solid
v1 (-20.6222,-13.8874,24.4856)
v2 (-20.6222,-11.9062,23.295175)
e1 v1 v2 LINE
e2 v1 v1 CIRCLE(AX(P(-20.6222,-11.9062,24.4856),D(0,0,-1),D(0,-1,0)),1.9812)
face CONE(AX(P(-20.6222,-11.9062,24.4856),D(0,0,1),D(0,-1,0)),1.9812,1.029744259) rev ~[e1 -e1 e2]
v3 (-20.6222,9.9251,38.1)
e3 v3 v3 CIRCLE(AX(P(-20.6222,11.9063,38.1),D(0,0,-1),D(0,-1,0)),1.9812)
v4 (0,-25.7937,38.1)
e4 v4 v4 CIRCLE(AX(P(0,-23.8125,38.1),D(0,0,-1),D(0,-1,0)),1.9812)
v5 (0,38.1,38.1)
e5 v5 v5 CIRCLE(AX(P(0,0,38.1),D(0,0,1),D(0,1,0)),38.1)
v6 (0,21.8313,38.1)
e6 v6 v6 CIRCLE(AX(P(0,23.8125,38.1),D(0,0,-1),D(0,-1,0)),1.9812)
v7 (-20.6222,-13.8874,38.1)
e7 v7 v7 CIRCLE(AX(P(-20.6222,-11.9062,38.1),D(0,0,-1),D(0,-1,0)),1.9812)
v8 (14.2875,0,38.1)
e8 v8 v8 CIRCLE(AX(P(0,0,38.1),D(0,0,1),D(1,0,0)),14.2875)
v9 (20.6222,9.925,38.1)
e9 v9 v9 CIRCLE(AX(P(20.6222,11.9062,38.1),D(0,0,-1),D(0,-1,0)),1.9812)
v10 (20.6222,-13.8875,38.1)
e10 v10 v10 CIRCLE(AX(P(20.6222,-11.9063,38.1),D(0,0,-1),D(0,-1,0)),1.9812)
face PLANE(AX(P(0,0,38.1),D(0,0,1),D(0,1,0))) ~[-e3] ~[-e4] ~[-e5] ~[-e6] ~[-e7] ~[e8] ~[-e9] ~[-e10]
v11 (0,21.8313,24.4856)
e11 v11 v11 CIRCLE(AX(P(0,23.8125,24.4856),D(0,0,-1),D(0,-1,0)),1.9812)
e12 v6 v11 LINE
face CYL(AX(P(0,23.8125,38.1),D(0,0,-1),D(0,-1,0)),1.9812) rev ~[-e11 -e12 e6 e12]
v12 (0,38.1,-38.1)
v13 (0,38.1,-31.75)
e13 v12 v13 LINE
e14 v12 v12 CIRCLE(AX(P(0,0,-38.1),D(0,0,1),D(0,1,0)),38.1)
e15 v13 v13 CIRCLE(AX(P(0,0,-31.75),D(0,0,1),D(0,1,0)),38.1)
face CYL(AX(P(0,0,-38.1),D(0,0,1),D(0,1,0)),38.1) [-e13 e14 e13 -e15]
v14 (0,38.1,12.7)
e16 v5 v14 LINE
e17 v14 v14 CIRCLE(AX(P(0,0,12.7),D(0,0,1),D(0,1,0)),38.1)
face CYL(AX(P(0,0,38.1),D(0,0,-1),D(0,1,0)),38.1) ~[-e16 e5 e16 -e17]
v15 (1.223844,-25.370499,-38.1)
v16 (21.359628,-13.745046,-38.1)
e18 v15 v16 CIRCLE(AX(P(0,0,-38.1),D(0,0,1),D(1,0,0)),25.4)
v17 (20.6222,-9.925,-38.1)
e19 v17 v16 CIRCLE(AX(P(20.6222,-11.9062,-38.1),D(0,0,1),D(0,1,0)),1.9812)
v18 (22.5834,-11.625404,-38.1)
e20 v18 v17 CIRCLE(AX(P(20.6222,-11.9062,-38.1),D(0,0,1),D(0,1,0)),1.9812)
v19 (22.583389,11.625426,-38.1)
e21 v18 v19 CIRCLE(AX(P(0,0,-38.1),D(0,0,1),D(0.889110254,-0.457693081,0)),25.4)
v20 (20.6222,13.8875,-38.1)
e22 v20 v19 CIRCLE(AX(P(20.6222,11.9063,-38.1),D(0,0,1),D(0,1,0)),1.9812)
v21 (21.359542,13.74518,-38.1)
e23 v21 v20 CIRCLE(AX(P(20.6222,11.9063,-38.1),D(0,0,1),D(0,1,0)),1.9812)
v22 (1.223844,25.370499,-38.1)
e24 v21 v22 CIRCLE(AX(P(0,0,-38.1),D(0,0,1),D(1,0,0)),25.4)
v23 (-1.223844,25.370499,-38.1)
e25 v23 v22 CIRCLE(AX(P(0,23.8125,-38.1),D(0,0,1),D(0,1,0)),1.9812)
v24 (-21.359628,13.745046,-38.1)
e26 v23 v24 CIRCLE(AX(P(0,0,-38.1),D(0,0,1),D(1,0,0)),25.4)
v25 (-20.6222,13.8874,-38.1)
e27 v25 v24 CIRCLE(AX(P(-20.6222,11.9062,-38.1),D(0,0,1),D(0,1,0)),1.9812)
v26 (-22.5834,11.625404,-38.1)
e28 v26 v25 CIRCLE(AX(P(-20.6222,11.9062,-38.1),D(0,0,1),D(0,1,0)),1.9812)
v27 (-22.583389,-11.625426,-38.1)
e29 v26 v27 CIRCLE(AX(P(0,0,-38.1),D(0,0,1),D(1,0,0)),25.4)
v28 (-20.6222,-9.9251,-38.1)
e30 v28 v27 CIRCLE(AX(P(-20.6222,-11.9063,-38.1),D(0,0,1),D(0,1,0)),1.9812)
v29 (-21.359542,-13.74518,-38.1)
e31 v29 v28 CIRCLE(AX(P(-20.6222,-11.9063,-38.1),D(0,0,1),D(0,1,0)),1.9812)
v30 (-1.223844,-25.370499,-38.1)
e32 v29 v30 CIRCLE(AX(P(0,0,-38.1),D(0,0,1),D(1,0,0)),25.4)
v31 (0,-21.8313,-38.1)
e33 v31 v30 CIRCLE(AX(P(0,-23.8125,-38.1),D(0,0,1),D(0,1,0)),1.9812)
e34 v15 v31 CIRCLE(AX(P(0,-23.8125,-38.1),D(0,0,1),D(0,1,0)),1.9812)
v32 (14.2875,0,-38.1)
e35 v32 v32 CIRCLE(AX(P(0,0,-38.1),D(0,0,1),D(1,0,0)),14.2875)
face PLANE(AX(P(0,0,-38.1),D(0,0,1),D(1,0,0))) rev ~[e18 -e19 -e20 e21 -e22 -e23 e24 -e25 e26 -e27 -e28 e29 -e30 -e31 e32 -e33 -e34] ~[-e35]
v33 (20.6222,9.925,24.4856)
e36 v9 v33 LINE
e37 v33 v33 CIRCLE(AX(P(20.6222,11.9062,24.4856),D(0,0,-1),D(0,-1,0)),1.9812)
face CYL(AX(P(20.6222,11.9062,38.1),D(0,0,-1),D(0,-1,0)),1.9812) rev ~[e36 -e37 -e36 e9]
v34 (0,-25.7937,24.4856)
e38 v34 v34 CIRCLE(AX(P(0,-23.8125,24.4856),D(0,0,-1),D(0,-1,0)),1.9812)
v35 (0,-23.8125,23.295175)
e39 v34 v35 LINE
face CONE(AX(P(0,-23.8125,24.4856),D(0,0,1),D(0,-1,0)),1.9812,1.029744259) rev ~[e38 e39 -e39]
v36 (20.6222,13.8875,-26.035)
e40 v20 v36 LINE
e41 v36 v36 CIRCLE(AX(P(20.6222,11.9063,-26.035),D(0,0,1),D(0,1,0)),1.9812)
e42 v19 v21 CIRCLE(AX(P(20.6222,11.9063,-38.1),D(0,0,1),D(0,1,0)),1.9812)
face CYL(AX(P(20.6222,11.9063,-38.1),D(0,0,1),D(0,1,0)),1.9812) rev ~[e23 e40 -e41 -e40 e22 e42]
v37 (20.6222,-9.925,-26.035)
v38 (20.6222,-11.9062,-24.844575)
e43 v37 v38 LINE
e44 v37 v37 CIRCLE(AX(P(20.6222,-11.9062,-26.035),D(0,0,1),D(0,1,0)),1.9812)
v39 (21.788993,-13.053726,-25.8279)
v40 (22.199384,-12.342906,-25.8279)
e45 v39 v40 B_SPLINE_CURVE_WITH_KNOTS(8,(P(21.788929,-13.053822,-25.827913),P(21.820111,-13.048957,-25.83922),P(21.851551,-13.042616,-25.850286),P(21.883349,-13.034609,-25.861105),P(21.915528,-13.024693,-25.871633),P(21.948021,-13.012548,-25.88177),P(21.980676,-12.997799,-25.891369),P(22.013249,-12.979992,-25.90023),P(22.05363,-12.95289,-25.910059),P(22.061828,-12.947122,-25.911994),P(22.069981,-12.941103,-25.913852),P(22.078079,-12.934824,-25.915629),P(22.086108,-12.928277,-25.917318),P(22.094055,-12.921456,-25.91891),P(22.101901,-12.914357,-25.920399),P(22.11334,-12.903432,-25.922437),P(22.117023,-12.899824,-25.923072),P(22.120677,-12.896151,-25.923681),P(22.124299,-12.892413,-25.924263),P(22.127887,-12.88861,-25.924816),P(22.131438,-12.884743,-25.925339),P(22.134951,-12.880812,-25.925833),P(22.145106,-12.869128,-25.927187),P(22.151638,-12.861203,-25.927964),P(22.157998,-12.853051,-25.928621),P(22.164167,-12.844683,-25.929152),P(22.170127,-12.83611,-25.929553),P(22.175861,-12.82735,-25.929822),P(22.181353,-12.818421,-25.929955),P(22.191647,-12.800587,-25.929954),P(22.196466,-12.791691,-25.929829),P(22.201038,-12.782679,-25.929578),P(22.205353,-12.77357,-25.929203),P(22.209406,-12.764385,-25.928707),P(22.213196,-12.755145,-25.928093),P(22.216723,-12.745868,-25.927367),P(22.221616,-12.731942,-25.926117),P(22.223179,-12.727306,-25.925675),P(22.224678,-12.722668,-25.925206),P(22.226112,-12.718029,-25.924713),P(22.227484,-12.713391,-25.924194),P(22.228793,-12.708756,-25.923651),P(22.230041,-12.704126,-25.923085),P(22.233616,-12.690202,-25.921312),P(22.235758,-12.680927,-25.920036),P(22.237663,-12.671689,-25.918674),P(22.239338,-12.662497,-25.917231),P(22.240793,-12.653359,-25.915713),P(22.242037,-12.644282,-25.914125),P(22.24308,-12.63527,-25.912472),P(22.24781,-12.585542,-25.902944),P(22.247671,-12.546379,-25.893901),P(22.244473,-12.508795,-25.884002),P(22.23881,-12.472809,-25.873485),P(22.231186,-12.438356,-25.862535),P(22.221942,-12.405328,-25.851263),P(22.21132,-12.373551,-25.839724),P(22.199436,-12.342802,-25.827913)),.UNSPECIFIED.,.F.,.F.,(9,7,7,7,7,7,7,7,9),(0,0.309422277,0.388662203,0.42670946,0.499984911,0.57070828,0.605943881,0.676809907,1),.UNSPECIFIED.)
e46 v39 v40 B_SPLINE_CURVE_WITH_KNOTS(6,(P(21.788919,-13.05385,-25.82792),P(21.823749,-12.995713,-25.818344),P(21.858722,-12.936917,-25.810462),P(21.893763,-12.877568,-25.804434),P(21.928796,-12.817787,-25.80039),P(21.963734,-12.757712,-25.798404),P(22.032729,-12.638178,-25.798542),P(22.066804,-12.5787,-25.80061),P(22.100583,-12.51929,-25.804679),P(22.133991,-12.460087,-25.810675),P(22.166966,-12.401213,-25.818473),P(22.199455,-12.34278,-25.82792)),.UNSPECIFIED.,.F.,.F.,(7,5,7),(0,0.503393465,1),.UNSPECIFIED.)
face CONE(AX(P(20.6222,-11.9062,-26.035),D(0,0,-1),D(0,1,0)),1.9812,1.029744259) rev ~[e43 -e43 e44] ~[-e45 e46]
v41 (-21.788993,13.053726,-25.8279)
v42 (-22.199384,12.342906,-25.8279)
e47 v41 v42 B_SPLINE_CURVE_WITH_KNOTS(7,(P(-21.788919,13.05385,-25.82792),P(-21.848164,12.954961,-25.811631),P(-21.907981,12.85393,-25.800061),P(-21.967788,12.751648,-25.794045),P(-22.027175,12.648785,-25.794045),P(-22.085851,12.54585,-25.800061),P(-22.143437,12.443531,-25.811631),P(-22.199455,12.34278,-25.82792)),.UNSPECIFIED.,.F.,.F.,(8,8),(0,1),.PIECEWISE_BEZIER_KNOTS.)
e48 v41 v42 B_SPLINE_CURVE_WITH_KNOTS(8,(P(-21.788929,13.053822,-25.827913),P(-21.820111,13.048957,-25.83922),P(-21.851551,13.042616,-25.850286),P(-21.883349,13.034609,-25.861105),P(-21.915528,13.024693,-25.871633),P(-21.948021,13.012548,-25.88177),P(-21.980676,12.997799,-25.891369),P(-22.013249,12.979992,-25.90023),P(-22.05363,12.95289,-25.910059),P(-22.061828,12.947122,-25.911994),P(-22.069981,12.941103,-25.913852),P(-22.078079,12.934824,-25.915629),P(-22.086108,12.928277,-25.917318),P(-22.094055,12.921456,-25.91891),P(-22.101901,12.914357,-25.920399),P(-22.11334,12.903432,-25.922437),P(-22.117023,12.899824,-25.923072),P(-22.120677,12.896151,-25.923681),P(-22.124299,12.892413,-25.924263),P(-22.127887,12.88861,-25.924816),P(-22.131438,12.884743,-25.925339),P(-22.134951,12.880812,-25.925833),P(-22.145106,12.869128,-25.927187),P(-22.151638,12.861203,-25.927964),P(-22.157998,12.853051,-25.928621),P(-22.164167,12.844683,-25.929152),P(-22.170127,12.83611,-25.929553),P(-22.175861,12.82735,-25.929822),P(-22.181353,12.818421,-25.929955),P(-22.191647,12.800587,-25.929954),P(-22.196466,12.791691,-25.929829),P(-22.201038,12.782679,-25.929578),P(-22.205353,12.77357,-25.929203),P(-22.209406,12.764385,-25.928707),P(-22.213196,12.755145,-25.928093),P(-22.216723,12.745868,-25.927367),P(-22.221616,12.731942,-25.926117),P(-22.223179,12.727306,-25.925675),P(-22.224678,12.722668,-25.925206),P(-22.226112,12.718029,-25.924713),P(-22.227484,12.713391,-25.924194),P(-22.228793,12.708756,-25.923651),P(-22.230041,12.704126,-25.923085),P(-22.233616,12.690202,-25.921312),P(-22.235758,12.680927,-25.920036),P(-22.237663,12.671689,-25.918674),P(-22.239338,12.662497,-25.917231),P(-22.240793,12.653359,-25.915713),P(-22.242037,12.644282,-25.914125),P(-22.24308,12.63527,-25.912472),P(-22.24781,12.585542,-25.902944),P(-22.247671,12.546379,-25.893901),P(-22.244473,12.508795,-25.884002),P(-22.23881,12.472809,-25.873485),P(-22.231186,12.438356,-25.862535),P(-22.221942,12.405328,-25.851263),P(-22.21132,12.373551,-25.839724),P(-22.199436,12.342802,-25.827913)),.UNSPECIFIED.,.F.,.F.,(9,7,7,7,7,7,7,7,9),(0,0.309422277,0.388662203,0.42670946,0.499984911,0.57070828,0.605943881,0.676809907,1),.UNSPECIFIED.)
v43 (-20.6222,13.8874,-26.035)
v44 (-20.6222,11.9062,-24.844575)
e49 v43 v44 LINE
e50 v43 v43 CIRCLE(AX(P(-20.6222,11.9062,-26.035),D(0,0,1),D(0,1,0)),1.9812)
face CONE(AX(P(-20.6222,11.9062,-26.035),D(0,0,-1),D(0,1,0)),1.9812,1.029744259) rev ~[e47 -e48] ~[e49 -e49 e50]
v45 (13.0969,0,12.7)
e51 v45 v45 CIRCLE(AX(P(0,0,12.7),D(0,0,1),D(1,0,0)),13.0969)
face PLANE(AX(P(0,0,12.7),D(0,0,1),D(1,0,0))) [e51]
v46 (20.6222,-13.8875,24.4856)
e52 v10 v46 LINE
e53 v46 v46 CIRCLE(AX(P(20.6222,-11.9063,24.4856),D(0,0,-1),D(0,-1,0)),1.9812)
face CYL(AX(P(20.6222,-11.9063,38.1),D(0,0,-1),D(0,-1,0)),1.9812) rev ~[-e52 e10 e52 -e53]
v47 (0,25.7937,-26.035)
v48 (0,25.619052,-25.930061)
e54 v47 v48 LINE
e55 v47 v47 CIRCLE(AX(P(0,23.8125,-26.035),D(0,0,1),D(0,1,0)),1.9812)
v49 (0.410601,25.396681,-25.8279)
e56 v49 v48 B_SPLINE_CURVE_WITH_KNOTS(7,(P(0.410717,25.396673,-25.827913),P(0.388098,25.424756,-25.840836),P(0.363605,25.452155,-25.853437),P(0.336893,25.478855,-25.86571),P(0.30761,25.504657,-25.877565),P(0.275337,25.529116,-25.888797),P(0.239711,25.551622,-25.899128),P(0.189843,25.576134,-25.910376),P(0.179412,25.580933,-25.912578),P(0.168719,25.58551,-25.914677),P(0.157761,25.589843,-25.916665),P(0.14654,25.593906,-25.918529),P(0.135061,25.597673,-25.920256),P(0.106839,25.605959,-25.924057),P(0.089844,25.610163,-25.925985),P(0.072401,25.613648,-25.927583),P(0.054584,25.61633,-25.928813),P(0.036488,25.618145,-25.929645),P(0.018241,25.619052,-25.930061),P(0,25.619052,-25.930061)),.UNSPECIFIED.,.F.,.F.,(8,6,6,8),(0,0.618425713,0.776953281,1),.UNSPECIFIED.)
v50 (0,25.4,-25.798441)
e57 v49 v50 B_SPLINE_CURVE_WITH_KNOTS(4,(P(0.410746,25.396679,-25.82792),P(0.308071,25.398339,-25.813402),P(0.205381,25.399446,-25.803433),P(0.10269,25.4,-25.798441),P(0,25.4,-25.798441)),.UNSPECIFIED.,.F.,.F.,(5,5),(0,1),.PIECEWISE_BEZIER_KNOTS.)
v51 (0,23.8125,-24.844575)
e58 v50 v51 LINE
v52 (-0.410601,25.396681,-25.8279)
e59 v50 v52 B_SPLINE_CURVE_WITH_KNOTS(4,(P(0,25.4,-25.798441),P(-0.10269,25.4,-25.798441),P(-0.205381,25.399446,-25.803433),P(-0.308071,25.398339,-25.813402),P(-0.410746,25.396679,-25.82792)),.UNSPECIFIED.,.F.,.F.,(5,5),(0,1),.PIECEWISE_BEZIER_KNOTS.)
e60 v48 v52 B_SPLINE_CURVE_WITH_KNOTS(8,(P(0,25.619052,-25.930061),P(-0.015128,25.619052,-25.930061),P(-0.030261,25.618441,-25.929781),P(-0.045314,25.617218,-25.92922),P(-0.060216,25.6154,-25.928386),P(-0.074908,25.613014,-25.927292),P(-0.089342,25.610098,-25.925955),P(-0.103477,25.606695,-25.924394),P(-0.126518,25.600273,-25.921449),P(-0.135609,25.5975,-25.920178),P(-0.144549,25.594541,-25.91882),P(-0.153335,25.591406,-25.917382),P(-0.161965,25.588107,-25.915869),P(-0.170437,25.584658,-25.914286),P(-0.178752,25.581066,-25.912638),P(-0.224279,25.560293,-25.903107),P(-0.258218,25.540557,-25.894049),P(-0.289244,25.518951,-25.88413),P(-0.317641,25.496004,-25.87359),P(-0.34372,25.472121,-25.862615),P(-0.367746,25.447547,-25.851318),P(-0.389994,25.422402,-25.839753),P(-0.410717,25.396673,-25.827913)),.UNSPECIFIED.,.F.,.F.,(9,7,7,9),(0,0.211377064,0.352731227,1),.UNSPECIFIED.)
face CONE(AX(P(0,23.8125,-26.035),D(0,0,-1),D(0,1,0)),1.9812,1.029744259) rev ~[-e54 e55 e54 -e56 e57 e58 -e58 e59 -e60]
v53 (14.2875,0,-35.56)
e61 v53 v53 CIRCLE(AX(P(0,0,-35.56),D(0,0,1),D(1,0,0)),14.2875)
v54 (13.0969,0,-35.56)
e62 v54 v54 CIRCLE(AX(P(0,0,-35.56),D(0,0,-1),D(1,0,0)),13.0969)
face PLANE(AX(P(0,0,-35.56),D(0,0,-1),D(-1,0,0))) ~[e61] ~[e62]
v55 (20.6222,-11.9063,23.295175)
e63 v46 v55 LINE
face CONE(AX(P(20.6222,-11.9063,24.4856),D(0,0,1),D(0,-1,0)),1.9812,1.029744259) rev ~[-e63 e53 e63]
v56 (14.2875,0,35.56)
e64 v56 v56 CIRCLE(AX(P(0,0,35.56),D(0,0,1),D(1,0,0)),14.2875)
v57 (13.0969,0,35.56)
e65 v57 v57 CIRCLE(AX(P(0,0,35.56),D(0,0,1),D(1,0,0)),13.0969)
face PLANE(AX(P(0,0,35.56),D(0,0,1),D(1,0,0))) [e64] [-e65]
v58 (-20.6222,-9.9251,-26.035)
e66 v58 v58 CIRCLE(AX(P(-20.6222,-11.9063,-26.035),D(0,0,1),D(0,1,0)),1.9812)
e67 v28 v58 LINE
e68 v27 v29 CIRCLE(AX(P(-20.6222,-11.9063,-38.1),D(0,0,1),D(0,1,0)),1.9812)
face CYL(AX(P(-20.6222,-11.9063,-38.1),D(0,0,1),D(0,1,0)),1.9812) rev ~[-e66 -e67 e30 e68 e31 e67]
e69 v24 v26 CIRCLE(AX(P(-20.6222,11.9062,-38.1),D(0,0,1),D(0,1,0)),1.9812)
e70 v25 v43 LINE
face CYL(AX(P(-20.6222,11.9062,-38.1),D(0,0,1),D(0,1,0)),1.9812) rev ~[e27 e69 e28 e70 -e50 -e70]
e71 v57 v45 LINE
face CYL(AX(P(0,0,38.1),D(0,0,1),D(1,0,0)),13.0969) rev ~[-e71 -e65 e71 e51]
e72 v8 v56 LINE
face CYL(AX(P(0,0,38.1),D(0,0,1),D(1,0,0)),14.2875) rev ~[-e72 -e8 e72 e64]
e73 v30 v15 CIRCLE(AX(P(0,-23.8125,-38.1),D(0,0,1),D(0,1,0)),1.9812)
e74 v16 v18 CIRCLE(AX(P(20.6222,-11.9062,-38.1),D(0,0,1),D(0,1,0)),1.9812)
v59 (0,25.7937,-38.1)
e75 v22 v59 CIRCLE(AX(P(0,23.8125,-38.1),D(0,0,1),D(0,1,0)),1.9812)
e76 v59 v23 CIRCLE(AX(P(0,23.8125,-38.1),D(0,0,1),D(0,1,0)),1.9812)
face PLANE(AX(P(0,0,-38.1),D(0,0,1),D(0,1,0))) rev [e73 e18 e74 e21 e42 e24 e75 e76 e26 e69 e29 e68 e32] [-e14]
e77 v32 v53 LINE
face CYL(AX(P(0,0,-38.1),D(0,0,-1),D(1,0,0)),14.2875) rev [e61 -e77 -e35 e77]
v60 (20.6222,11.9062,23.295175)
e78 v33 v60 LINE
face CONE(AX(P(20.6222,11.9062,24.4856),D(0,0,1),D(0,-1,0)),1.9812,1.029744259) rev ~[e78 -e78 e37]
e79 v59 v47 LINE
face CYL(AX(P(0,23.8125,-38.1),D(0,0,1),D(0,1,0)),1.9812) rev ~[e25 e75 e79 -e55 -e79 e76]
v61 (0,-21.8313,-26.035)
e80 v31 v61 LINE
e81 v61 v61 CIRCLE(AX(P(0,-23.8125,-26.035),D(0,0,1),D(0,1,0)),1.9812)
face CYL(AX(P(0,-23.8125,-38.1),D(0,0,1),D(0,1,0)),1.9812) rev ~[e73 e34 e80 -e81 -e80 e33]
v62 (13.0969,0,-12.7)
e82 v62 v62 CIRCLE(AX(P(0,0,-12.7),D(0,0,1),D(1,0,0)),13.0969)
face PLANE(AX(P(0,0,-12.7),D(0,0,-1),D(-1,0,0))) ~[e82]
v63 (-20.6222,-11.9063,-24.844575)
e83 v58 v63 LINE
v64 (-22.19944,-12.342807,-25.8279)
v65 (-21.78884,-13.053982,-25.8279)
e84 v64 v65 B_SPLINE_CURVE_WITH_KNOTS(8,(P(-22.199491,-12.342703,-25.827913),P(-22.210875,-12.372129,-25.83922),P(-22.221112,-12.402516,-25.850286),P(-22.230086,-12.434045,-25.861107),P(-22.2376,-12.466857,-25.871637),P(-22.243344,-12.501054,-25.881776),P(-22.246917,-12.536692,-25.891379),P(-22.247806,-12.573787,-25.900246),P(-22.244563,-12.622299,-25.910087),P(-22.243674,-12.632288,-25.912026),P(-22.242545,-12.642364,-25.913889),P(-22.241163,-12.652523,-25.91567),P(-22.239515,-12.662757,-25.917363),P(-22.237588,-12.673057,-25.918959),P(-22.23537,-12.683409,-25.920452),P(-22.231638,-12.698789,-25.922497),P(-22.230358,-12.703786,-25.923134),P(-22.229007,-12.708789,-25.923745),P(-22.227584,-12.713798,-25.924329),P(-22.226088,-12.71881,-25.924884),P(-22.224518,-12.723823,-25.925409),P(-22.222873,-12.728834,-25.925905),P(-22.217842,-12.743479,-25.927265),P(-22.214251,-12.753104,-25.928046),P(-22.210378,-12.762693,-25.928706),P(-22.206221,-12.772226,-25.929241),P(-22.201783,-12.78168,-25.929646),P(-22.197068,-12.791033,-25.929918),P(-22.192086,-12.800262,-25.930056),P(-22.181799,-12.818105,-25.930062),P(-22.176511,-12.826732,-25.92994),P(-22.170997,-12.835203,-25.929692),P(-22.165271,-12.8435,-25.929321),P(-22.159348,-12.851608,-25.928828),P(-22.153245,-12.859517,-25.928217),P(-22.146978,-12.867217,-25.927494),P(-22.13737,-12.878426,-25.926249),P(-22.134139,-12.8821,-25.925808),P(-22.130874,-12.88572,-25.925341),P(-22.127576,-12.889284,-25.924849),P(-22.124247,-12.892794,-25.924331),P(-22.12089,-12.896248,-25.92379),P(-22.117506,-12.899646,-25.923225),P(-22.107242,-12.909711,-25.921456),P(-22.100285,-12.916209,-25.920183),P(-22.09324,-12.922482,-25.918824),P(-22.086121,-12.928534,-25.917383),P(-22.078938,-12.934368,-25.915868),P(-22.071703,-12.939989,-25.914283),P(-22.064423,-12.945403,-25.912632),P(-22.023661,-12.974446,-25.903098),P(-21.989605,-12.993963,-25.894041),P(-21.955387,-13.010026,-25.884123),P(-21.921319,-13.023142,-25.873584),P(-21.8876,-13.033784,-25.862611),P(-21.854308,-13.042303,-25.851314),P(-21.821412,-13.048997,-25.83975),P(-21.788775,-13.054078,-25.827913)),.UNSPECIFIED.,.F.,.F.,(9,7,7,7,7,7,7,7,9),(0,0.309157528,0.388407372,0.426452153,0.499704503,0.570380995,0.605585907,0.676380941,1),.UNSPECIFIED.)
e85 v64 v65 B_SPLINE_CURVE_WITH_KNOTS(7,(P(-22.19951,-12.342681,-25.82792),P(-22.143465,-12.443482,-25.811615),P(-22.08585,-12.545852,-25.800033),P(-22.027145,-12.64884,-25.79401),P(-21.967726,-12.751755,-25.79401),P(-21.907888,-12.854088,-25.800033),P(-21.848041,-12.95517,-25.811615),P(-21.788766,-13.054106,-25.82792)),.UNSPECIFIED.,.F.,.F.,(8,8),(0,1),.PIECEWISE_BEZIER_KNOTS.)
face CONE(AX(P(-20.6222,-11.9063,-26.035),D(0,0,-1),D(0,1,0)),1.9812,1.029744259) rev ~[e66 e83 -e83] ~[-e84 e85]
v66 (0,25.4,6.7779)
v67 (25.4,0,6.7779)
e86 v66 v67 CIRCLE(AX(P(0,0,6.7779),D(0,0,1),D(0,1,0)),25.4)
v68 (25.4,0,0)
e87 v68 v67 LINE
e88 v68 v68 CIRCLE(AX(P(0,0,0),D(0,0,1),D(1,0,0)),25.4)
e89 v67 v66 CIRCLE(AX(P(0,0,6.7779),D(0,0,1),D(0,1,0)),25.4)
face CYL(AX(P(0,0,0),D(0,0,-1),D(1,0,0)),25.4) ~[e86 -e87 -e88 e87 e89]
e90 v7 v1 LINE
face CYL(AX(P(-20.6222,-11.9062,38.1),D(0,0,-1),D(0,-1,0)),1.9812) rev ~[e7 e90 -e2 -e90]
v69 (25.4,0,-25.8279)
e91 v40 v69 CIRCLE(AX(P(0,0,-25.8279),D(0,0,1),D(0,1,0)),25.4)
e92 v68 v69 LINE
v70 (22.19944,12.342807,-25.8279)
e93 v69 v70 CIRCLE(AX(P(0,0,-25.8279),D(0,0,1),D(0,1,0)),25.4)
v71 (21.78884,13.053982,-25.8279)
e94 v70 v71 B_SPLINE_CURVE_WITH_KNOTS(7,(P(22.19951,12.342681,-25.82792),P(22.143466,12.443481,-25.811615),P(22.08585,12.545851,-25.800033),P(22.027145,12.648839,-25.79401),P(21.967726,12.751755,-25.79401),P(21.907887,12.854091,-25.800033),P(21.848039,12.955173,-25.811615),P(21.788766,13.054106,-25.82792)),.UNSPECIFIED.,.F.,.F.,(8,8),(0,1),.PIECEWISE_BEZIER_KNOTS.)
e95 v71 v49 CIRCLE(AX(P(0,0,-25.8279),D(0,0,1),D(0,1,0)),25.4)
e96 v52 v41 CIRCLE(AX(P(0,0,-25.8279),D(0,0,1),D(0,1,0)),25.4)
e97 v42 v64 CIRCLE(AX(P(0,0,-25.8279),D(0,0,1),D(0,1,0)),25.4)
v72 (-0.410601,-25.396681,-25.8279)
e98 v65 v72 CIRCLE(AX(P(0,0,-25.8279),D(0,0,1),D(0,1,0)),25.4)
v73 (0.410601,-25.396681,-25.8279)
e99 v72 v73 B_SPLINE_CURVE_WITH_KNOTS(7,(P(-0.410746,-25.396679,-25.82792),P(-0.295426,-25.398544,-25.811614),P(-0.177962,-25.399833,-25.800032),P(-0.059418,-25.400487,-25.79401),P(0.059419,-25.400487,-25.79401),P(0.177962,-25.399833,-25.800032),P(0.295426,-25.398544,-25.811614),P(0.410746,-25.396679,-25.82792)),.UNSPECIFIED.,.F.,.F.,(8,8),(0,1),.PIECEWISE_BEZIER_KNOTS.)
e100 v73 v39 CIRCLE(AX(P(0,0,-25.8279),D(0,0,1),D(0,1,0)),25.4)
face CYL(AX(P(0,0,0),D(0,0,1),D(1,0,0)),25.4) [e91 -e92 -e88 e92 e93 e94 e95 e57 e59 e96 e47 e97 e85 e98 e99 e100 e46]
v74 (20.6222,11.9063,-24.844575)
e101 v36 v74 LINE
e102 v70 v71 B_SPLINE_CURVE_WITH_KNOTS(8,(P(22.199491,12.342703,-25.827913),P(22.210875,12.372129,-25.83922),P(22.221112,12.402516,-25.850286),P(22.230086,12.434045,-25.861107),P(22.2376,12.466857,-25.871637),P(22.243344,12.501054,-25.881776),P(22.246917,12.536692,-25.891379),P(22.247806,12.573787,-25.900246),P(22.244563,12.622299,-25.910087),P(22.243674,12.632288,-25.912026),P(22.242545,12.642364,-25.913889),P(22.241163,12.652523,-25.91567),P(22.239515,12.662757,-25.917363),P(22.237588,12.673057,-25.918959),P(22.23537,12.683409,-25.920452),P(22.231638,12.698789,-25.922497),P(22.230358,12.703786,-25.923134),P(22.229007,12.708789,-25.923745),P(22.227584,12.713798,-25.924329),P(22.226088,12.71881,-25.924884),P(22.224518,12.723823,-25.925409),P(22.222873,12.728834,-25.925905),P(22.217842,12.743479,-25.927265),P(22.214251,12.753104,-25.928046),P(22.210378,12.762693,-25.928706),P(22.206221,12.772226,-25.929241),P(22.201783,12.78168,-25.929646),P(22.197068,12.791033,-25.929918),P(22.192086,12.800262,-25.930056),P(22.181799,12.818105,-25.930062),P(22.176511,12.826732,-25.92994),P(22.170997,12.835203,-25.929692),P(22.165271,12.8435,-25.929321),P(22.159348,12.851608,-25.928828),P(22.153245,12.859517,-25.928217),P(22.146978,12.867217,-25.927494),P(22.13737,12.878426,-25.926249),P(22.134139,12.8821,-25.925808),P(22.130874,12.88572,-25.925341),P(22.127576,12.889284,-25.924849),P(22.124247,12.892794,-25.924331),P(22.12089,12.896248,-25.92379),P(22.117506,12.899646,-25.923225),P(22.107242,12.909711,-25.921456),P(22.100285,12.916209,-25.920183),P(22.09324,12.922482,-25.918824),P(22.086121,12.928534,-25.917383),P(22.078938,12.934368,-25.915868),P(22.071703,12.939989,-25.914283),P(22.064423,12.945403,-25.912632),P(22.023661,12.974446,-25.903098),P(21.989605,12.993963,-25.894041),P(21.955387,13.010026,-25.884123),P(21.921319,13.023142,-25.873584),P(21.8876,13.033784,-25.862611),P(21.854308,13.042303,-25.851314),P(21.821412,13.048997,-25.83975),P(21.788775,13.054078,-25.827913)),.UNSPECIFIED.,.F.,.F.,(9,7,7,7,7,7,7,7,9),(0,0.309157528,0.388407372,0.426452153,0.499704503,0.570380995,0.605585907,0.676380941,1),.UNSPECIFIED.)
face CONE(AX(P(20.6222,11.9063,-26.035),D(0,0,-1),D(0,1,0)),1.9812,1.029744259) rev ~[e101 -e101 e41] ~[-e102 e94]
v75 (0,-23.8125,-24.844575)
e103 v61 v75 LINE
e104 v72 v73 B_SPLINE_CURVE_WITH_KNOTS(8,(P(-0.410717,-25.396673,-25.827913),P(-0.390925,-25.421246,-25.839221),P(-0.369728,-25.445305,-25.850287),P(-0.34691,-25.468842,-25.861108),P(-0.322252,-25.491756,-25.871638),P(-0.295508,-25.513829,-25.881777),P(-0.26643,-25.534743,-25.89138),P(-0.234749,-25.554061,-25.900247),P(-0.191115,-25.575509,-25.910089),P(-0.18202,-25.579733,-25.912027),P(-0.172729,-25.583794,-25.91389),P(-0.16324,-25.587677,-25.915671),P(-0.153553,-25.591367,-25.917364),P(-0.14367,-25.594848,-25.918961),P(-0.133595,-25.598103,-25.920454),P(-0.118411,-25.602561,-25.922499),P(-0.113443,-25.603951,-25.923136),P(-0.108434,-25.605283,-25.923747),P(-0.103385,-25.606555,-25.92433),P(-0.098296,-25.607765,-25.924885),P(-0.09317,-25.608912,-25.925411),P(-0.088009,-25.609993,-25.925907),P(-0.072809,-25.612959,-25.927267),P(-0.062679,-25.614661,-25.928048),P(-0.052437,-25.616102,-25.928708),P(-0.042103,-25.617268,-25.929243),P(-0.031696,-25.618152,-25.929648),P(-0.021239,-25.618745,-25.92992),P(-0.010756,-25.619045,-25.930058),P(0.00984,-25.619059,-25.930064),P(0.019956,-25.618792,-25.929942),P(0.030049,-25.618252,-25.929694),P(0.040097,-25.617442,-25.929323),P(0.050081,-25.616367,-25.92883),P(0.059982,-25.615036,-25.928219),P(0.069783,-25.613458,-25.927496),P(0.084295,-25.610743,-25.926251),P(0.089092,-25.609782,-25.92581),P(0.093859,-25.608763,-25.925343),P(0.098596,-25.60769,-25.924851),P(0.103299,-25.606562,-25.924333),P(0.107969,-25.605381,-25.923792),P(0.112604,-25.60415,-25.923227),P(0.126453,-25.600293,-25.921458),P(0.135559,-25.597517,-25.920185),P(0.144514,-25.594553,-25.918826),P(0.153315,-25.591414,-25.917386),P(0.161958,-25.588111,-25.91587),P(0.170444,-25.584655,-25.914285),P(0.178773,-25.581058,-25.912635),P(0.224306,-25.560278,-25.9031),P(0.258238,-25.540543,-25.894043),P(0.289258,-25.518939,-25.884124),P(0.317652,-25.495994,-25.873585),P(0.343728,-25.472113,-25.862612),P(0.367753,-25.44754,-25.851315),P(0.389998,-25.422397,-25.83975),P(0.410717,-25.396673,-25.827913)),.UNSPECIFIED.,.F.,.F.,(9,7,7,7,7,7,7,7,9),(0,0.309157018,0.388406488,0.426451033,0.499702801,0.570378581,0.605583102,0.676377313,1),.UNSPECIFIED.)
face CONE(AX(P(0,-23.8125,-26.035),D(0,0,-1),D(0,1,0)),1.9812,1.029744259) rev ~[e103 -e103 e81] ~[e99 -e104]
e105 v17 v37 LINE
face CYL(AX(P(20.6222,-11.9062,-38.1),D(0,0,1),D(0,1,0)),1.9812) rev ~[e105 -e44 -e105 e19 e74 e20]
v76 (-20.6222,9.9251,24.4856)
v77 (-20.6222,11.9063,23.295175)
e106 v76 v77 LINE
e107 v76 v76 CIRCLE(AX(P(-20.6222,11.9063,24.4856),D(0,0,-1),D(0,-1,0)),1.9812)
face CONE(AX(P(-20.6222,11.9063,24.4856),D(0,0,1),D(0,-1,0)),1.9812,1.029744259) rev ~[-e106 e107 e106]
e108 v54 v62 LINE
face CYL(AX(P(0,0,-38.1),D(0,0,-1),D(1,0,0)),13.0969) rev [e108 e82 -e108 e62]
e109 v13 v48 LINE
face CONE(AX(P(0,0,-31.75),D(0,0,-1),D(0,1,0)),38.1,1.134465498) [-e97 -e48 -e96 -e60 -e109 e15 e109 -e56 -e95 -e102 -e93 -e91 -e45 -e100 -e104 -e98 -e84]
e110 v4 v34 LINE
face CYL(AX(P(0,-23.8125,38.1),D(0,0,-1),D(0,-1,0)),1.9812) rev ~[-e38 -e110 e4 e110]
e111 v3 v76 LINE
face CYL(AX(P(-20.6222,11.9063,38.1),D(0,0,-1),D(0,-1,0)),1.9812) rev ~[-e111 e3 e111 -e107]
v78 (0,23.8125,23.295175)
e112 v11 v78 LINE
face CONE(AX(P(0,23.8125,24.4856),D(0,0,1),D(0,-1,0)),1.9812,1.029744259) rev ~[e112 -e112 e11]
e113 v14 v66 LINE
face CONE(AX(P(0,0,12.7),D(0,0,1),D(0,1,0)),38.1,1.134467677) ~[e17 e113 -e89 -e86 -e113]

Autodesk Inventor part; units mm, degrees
ref_plane "YZ Plane" through (0, 0, 0) normal (1, 0, 0) x (0, 1, 0)
ref_plane "XZ Plane" through (0, 0, 0) normal (0, 1, 0) x (-1, 0, 0)
ref_plane "XY Plane" through (0, 0, 0) normal (0, 0, 1) x (1, 0, 0)
sketch "Sketch1" plane through (0, 0, 0) normal (0, 0, 1) x (1, 0, 0)
  circle A0 centre (0, 0) radius 25.4
  dimension "d0" = 50.8
extrude "Extrusion1" add sketch "Sketch1" along normal mid plane 76.2
sketch "Sketch3" plane through (0, 0, 0) normal (1, 0, 0) x (0, 1, 0)
  line L0 (25.4, 38.1) -> (-25.4, 38.1) projected
  line L1 (25.4, 38.1) -> (38.1, 38.1)
  line L2 (25.4, -38.1) -> (25.4, 38.1) projected
  line L3 (0, -53.34) -> (0, 53.34) projected
  line L4 (38.1, 38.1) -> (38.1, 12.7)
  line L5 (38.1, 12.7) -> (24.2886, 6.2597)
  line L6 (24.2886, 6.2597) -> (25.4, 6.7779)
  line L7 (25.4, -38.1) -> (25.4, 38.1) projected
  point P0 (0, 0)
  point P1 (25.4, 19.4779)
  point P2 (25.4, 6.7779)
  point P3 (25.4, 6.7779)
  dimension "d9" = 12.7
  dimension "d12" = 25.4
  dimension "d13" = 115
revolve "Revolution1" add sketch "Sketch3" angle 360 about axis through (0, 0, -10) along (0, 0, 1)
sketch "Sketch4" plane through (0, 0, 0) normal (1, 0, 0) x (0, 1, 0)
  line L0 (25.4, -38.1) -> (25.4, 6.7779) projected
  line L1 (-25.4, -38.1) -> (25.4, -38.1) projected
  line L2 (25.4, -38.1) -> (38.1, -38.1)
  line L3 (38.1, -38.1) -> (38.1, -31.75)
  line L4 (38.1, -31.75) -> (24.8707, -25.5811)
  line L5 (0, -46.9275) -> (0, 14.8652) projected
  line L6 (24.8707, -25.5811) -> (25.4, -25.8279)
  line L7 (25.4, -38.1) -> (25.4, 6.7779) projected
  point P0 (0, 0)
  dimension "d14" = 12.7
  dimension "d15" = 6.35
  dimension "d16" = 115
revolve "Revolution2" add sketch "Sketch4" angle 360 about axis through (0, 0, -10) along (0, 0, 1)
sketch "Sketch5" plane through (0, 0, 38.1) normal (0, 0, 1) x (1, 0, 0)
  circle A0 centre (0, 0) radius 13.0969
  dimension "d18" = 26.1938
extrude "Extrusion4" cut sketch "Sketch5" against normal blind 25.4
sketch "Sketch6" plane through (0, 0, 38.1) normal (0, 0, 1) x (1, 0, 0)
  circle A0 centre (0, 0) radius 14.2875
  dimension "d21" = 28.575
extrude "Extrusion5" cut sketch "Sketch6" against normal blind 2.54
mirror "Mirror2" about plane through (0, 0, 0) normal (0, 0, 1) of "Extrusion5", "Extrusion4"
sketch "Sketch8" plane through (0, 0, 38.1) normal (0, 0, 1) x (1, 0, 0)
  point P0 (0, 0)
  point P1 (0, 23.8125)
  point P2 (-20.6222, 11.9063)
  point P3 (0, 0)
  point P4 (-20.6222, -11.9062)
  point P5 (0, 0)
  point P6 (0, -23.8125)
  point P7 (0, 0)
  point P8 (20.6222, -11.9063)
  point P9 (0, 0)
  point P10 (20.6222, 11.9062)
  point P11 (0, 0)
  dimension "d32" = 23.8125
  dimension "d35" = 360
hole "Hole1" at (0, 23.8125, 38.1) at (-20.6222, 11.9063, 38.1) at (-20.6222, -11.9062, 38.1) at (0, -23.8125, 38.1) at (20.6222, -11.9063, 38.1) at (20.6222, 11.9062, 38.1) direction (0, 0, -1) diameter 3.9624 depth 13.6144 tip angle 118 thread size "10-32 UNF" class "2B" standard "ANSI Unified Screw Threads"
sketch "Sketch9" plane through (0, 0, -38.1) normal (0, 0, -1) x (-1, 0, 0)
  point P0 (0, 0)
  point P1 (0, 23.8125)
  point P2 (-20.6222, 11.9063)
  point P3 (-20.6222, -11.9062)
  point P4 (0, -23.8125)
  point P5 (20.6222, -11.9063)
  point P6 (20.6222, 11.9062)
  dimension "d44" = 23.8125
  dimension "d47" = 360
hole "Hole2" at (0, 23.8125, -38.1) at (20.6222, 11.9063, -38.1) at (20.6222, -11.9062, -38.1) at (0, -23.8125, -38.1) at (-20.6222, -11.9063, -38.1) at (-20.6222, 11.9062, -38.1) direction (0, 0, 1) diameter 3.9624 depth 12.065 tip angle 118 thread size "10-32 UNF" class "2B" standard "ANSI Unified Screw Threads"
properties part number "pulleyForRoundAdapter"
